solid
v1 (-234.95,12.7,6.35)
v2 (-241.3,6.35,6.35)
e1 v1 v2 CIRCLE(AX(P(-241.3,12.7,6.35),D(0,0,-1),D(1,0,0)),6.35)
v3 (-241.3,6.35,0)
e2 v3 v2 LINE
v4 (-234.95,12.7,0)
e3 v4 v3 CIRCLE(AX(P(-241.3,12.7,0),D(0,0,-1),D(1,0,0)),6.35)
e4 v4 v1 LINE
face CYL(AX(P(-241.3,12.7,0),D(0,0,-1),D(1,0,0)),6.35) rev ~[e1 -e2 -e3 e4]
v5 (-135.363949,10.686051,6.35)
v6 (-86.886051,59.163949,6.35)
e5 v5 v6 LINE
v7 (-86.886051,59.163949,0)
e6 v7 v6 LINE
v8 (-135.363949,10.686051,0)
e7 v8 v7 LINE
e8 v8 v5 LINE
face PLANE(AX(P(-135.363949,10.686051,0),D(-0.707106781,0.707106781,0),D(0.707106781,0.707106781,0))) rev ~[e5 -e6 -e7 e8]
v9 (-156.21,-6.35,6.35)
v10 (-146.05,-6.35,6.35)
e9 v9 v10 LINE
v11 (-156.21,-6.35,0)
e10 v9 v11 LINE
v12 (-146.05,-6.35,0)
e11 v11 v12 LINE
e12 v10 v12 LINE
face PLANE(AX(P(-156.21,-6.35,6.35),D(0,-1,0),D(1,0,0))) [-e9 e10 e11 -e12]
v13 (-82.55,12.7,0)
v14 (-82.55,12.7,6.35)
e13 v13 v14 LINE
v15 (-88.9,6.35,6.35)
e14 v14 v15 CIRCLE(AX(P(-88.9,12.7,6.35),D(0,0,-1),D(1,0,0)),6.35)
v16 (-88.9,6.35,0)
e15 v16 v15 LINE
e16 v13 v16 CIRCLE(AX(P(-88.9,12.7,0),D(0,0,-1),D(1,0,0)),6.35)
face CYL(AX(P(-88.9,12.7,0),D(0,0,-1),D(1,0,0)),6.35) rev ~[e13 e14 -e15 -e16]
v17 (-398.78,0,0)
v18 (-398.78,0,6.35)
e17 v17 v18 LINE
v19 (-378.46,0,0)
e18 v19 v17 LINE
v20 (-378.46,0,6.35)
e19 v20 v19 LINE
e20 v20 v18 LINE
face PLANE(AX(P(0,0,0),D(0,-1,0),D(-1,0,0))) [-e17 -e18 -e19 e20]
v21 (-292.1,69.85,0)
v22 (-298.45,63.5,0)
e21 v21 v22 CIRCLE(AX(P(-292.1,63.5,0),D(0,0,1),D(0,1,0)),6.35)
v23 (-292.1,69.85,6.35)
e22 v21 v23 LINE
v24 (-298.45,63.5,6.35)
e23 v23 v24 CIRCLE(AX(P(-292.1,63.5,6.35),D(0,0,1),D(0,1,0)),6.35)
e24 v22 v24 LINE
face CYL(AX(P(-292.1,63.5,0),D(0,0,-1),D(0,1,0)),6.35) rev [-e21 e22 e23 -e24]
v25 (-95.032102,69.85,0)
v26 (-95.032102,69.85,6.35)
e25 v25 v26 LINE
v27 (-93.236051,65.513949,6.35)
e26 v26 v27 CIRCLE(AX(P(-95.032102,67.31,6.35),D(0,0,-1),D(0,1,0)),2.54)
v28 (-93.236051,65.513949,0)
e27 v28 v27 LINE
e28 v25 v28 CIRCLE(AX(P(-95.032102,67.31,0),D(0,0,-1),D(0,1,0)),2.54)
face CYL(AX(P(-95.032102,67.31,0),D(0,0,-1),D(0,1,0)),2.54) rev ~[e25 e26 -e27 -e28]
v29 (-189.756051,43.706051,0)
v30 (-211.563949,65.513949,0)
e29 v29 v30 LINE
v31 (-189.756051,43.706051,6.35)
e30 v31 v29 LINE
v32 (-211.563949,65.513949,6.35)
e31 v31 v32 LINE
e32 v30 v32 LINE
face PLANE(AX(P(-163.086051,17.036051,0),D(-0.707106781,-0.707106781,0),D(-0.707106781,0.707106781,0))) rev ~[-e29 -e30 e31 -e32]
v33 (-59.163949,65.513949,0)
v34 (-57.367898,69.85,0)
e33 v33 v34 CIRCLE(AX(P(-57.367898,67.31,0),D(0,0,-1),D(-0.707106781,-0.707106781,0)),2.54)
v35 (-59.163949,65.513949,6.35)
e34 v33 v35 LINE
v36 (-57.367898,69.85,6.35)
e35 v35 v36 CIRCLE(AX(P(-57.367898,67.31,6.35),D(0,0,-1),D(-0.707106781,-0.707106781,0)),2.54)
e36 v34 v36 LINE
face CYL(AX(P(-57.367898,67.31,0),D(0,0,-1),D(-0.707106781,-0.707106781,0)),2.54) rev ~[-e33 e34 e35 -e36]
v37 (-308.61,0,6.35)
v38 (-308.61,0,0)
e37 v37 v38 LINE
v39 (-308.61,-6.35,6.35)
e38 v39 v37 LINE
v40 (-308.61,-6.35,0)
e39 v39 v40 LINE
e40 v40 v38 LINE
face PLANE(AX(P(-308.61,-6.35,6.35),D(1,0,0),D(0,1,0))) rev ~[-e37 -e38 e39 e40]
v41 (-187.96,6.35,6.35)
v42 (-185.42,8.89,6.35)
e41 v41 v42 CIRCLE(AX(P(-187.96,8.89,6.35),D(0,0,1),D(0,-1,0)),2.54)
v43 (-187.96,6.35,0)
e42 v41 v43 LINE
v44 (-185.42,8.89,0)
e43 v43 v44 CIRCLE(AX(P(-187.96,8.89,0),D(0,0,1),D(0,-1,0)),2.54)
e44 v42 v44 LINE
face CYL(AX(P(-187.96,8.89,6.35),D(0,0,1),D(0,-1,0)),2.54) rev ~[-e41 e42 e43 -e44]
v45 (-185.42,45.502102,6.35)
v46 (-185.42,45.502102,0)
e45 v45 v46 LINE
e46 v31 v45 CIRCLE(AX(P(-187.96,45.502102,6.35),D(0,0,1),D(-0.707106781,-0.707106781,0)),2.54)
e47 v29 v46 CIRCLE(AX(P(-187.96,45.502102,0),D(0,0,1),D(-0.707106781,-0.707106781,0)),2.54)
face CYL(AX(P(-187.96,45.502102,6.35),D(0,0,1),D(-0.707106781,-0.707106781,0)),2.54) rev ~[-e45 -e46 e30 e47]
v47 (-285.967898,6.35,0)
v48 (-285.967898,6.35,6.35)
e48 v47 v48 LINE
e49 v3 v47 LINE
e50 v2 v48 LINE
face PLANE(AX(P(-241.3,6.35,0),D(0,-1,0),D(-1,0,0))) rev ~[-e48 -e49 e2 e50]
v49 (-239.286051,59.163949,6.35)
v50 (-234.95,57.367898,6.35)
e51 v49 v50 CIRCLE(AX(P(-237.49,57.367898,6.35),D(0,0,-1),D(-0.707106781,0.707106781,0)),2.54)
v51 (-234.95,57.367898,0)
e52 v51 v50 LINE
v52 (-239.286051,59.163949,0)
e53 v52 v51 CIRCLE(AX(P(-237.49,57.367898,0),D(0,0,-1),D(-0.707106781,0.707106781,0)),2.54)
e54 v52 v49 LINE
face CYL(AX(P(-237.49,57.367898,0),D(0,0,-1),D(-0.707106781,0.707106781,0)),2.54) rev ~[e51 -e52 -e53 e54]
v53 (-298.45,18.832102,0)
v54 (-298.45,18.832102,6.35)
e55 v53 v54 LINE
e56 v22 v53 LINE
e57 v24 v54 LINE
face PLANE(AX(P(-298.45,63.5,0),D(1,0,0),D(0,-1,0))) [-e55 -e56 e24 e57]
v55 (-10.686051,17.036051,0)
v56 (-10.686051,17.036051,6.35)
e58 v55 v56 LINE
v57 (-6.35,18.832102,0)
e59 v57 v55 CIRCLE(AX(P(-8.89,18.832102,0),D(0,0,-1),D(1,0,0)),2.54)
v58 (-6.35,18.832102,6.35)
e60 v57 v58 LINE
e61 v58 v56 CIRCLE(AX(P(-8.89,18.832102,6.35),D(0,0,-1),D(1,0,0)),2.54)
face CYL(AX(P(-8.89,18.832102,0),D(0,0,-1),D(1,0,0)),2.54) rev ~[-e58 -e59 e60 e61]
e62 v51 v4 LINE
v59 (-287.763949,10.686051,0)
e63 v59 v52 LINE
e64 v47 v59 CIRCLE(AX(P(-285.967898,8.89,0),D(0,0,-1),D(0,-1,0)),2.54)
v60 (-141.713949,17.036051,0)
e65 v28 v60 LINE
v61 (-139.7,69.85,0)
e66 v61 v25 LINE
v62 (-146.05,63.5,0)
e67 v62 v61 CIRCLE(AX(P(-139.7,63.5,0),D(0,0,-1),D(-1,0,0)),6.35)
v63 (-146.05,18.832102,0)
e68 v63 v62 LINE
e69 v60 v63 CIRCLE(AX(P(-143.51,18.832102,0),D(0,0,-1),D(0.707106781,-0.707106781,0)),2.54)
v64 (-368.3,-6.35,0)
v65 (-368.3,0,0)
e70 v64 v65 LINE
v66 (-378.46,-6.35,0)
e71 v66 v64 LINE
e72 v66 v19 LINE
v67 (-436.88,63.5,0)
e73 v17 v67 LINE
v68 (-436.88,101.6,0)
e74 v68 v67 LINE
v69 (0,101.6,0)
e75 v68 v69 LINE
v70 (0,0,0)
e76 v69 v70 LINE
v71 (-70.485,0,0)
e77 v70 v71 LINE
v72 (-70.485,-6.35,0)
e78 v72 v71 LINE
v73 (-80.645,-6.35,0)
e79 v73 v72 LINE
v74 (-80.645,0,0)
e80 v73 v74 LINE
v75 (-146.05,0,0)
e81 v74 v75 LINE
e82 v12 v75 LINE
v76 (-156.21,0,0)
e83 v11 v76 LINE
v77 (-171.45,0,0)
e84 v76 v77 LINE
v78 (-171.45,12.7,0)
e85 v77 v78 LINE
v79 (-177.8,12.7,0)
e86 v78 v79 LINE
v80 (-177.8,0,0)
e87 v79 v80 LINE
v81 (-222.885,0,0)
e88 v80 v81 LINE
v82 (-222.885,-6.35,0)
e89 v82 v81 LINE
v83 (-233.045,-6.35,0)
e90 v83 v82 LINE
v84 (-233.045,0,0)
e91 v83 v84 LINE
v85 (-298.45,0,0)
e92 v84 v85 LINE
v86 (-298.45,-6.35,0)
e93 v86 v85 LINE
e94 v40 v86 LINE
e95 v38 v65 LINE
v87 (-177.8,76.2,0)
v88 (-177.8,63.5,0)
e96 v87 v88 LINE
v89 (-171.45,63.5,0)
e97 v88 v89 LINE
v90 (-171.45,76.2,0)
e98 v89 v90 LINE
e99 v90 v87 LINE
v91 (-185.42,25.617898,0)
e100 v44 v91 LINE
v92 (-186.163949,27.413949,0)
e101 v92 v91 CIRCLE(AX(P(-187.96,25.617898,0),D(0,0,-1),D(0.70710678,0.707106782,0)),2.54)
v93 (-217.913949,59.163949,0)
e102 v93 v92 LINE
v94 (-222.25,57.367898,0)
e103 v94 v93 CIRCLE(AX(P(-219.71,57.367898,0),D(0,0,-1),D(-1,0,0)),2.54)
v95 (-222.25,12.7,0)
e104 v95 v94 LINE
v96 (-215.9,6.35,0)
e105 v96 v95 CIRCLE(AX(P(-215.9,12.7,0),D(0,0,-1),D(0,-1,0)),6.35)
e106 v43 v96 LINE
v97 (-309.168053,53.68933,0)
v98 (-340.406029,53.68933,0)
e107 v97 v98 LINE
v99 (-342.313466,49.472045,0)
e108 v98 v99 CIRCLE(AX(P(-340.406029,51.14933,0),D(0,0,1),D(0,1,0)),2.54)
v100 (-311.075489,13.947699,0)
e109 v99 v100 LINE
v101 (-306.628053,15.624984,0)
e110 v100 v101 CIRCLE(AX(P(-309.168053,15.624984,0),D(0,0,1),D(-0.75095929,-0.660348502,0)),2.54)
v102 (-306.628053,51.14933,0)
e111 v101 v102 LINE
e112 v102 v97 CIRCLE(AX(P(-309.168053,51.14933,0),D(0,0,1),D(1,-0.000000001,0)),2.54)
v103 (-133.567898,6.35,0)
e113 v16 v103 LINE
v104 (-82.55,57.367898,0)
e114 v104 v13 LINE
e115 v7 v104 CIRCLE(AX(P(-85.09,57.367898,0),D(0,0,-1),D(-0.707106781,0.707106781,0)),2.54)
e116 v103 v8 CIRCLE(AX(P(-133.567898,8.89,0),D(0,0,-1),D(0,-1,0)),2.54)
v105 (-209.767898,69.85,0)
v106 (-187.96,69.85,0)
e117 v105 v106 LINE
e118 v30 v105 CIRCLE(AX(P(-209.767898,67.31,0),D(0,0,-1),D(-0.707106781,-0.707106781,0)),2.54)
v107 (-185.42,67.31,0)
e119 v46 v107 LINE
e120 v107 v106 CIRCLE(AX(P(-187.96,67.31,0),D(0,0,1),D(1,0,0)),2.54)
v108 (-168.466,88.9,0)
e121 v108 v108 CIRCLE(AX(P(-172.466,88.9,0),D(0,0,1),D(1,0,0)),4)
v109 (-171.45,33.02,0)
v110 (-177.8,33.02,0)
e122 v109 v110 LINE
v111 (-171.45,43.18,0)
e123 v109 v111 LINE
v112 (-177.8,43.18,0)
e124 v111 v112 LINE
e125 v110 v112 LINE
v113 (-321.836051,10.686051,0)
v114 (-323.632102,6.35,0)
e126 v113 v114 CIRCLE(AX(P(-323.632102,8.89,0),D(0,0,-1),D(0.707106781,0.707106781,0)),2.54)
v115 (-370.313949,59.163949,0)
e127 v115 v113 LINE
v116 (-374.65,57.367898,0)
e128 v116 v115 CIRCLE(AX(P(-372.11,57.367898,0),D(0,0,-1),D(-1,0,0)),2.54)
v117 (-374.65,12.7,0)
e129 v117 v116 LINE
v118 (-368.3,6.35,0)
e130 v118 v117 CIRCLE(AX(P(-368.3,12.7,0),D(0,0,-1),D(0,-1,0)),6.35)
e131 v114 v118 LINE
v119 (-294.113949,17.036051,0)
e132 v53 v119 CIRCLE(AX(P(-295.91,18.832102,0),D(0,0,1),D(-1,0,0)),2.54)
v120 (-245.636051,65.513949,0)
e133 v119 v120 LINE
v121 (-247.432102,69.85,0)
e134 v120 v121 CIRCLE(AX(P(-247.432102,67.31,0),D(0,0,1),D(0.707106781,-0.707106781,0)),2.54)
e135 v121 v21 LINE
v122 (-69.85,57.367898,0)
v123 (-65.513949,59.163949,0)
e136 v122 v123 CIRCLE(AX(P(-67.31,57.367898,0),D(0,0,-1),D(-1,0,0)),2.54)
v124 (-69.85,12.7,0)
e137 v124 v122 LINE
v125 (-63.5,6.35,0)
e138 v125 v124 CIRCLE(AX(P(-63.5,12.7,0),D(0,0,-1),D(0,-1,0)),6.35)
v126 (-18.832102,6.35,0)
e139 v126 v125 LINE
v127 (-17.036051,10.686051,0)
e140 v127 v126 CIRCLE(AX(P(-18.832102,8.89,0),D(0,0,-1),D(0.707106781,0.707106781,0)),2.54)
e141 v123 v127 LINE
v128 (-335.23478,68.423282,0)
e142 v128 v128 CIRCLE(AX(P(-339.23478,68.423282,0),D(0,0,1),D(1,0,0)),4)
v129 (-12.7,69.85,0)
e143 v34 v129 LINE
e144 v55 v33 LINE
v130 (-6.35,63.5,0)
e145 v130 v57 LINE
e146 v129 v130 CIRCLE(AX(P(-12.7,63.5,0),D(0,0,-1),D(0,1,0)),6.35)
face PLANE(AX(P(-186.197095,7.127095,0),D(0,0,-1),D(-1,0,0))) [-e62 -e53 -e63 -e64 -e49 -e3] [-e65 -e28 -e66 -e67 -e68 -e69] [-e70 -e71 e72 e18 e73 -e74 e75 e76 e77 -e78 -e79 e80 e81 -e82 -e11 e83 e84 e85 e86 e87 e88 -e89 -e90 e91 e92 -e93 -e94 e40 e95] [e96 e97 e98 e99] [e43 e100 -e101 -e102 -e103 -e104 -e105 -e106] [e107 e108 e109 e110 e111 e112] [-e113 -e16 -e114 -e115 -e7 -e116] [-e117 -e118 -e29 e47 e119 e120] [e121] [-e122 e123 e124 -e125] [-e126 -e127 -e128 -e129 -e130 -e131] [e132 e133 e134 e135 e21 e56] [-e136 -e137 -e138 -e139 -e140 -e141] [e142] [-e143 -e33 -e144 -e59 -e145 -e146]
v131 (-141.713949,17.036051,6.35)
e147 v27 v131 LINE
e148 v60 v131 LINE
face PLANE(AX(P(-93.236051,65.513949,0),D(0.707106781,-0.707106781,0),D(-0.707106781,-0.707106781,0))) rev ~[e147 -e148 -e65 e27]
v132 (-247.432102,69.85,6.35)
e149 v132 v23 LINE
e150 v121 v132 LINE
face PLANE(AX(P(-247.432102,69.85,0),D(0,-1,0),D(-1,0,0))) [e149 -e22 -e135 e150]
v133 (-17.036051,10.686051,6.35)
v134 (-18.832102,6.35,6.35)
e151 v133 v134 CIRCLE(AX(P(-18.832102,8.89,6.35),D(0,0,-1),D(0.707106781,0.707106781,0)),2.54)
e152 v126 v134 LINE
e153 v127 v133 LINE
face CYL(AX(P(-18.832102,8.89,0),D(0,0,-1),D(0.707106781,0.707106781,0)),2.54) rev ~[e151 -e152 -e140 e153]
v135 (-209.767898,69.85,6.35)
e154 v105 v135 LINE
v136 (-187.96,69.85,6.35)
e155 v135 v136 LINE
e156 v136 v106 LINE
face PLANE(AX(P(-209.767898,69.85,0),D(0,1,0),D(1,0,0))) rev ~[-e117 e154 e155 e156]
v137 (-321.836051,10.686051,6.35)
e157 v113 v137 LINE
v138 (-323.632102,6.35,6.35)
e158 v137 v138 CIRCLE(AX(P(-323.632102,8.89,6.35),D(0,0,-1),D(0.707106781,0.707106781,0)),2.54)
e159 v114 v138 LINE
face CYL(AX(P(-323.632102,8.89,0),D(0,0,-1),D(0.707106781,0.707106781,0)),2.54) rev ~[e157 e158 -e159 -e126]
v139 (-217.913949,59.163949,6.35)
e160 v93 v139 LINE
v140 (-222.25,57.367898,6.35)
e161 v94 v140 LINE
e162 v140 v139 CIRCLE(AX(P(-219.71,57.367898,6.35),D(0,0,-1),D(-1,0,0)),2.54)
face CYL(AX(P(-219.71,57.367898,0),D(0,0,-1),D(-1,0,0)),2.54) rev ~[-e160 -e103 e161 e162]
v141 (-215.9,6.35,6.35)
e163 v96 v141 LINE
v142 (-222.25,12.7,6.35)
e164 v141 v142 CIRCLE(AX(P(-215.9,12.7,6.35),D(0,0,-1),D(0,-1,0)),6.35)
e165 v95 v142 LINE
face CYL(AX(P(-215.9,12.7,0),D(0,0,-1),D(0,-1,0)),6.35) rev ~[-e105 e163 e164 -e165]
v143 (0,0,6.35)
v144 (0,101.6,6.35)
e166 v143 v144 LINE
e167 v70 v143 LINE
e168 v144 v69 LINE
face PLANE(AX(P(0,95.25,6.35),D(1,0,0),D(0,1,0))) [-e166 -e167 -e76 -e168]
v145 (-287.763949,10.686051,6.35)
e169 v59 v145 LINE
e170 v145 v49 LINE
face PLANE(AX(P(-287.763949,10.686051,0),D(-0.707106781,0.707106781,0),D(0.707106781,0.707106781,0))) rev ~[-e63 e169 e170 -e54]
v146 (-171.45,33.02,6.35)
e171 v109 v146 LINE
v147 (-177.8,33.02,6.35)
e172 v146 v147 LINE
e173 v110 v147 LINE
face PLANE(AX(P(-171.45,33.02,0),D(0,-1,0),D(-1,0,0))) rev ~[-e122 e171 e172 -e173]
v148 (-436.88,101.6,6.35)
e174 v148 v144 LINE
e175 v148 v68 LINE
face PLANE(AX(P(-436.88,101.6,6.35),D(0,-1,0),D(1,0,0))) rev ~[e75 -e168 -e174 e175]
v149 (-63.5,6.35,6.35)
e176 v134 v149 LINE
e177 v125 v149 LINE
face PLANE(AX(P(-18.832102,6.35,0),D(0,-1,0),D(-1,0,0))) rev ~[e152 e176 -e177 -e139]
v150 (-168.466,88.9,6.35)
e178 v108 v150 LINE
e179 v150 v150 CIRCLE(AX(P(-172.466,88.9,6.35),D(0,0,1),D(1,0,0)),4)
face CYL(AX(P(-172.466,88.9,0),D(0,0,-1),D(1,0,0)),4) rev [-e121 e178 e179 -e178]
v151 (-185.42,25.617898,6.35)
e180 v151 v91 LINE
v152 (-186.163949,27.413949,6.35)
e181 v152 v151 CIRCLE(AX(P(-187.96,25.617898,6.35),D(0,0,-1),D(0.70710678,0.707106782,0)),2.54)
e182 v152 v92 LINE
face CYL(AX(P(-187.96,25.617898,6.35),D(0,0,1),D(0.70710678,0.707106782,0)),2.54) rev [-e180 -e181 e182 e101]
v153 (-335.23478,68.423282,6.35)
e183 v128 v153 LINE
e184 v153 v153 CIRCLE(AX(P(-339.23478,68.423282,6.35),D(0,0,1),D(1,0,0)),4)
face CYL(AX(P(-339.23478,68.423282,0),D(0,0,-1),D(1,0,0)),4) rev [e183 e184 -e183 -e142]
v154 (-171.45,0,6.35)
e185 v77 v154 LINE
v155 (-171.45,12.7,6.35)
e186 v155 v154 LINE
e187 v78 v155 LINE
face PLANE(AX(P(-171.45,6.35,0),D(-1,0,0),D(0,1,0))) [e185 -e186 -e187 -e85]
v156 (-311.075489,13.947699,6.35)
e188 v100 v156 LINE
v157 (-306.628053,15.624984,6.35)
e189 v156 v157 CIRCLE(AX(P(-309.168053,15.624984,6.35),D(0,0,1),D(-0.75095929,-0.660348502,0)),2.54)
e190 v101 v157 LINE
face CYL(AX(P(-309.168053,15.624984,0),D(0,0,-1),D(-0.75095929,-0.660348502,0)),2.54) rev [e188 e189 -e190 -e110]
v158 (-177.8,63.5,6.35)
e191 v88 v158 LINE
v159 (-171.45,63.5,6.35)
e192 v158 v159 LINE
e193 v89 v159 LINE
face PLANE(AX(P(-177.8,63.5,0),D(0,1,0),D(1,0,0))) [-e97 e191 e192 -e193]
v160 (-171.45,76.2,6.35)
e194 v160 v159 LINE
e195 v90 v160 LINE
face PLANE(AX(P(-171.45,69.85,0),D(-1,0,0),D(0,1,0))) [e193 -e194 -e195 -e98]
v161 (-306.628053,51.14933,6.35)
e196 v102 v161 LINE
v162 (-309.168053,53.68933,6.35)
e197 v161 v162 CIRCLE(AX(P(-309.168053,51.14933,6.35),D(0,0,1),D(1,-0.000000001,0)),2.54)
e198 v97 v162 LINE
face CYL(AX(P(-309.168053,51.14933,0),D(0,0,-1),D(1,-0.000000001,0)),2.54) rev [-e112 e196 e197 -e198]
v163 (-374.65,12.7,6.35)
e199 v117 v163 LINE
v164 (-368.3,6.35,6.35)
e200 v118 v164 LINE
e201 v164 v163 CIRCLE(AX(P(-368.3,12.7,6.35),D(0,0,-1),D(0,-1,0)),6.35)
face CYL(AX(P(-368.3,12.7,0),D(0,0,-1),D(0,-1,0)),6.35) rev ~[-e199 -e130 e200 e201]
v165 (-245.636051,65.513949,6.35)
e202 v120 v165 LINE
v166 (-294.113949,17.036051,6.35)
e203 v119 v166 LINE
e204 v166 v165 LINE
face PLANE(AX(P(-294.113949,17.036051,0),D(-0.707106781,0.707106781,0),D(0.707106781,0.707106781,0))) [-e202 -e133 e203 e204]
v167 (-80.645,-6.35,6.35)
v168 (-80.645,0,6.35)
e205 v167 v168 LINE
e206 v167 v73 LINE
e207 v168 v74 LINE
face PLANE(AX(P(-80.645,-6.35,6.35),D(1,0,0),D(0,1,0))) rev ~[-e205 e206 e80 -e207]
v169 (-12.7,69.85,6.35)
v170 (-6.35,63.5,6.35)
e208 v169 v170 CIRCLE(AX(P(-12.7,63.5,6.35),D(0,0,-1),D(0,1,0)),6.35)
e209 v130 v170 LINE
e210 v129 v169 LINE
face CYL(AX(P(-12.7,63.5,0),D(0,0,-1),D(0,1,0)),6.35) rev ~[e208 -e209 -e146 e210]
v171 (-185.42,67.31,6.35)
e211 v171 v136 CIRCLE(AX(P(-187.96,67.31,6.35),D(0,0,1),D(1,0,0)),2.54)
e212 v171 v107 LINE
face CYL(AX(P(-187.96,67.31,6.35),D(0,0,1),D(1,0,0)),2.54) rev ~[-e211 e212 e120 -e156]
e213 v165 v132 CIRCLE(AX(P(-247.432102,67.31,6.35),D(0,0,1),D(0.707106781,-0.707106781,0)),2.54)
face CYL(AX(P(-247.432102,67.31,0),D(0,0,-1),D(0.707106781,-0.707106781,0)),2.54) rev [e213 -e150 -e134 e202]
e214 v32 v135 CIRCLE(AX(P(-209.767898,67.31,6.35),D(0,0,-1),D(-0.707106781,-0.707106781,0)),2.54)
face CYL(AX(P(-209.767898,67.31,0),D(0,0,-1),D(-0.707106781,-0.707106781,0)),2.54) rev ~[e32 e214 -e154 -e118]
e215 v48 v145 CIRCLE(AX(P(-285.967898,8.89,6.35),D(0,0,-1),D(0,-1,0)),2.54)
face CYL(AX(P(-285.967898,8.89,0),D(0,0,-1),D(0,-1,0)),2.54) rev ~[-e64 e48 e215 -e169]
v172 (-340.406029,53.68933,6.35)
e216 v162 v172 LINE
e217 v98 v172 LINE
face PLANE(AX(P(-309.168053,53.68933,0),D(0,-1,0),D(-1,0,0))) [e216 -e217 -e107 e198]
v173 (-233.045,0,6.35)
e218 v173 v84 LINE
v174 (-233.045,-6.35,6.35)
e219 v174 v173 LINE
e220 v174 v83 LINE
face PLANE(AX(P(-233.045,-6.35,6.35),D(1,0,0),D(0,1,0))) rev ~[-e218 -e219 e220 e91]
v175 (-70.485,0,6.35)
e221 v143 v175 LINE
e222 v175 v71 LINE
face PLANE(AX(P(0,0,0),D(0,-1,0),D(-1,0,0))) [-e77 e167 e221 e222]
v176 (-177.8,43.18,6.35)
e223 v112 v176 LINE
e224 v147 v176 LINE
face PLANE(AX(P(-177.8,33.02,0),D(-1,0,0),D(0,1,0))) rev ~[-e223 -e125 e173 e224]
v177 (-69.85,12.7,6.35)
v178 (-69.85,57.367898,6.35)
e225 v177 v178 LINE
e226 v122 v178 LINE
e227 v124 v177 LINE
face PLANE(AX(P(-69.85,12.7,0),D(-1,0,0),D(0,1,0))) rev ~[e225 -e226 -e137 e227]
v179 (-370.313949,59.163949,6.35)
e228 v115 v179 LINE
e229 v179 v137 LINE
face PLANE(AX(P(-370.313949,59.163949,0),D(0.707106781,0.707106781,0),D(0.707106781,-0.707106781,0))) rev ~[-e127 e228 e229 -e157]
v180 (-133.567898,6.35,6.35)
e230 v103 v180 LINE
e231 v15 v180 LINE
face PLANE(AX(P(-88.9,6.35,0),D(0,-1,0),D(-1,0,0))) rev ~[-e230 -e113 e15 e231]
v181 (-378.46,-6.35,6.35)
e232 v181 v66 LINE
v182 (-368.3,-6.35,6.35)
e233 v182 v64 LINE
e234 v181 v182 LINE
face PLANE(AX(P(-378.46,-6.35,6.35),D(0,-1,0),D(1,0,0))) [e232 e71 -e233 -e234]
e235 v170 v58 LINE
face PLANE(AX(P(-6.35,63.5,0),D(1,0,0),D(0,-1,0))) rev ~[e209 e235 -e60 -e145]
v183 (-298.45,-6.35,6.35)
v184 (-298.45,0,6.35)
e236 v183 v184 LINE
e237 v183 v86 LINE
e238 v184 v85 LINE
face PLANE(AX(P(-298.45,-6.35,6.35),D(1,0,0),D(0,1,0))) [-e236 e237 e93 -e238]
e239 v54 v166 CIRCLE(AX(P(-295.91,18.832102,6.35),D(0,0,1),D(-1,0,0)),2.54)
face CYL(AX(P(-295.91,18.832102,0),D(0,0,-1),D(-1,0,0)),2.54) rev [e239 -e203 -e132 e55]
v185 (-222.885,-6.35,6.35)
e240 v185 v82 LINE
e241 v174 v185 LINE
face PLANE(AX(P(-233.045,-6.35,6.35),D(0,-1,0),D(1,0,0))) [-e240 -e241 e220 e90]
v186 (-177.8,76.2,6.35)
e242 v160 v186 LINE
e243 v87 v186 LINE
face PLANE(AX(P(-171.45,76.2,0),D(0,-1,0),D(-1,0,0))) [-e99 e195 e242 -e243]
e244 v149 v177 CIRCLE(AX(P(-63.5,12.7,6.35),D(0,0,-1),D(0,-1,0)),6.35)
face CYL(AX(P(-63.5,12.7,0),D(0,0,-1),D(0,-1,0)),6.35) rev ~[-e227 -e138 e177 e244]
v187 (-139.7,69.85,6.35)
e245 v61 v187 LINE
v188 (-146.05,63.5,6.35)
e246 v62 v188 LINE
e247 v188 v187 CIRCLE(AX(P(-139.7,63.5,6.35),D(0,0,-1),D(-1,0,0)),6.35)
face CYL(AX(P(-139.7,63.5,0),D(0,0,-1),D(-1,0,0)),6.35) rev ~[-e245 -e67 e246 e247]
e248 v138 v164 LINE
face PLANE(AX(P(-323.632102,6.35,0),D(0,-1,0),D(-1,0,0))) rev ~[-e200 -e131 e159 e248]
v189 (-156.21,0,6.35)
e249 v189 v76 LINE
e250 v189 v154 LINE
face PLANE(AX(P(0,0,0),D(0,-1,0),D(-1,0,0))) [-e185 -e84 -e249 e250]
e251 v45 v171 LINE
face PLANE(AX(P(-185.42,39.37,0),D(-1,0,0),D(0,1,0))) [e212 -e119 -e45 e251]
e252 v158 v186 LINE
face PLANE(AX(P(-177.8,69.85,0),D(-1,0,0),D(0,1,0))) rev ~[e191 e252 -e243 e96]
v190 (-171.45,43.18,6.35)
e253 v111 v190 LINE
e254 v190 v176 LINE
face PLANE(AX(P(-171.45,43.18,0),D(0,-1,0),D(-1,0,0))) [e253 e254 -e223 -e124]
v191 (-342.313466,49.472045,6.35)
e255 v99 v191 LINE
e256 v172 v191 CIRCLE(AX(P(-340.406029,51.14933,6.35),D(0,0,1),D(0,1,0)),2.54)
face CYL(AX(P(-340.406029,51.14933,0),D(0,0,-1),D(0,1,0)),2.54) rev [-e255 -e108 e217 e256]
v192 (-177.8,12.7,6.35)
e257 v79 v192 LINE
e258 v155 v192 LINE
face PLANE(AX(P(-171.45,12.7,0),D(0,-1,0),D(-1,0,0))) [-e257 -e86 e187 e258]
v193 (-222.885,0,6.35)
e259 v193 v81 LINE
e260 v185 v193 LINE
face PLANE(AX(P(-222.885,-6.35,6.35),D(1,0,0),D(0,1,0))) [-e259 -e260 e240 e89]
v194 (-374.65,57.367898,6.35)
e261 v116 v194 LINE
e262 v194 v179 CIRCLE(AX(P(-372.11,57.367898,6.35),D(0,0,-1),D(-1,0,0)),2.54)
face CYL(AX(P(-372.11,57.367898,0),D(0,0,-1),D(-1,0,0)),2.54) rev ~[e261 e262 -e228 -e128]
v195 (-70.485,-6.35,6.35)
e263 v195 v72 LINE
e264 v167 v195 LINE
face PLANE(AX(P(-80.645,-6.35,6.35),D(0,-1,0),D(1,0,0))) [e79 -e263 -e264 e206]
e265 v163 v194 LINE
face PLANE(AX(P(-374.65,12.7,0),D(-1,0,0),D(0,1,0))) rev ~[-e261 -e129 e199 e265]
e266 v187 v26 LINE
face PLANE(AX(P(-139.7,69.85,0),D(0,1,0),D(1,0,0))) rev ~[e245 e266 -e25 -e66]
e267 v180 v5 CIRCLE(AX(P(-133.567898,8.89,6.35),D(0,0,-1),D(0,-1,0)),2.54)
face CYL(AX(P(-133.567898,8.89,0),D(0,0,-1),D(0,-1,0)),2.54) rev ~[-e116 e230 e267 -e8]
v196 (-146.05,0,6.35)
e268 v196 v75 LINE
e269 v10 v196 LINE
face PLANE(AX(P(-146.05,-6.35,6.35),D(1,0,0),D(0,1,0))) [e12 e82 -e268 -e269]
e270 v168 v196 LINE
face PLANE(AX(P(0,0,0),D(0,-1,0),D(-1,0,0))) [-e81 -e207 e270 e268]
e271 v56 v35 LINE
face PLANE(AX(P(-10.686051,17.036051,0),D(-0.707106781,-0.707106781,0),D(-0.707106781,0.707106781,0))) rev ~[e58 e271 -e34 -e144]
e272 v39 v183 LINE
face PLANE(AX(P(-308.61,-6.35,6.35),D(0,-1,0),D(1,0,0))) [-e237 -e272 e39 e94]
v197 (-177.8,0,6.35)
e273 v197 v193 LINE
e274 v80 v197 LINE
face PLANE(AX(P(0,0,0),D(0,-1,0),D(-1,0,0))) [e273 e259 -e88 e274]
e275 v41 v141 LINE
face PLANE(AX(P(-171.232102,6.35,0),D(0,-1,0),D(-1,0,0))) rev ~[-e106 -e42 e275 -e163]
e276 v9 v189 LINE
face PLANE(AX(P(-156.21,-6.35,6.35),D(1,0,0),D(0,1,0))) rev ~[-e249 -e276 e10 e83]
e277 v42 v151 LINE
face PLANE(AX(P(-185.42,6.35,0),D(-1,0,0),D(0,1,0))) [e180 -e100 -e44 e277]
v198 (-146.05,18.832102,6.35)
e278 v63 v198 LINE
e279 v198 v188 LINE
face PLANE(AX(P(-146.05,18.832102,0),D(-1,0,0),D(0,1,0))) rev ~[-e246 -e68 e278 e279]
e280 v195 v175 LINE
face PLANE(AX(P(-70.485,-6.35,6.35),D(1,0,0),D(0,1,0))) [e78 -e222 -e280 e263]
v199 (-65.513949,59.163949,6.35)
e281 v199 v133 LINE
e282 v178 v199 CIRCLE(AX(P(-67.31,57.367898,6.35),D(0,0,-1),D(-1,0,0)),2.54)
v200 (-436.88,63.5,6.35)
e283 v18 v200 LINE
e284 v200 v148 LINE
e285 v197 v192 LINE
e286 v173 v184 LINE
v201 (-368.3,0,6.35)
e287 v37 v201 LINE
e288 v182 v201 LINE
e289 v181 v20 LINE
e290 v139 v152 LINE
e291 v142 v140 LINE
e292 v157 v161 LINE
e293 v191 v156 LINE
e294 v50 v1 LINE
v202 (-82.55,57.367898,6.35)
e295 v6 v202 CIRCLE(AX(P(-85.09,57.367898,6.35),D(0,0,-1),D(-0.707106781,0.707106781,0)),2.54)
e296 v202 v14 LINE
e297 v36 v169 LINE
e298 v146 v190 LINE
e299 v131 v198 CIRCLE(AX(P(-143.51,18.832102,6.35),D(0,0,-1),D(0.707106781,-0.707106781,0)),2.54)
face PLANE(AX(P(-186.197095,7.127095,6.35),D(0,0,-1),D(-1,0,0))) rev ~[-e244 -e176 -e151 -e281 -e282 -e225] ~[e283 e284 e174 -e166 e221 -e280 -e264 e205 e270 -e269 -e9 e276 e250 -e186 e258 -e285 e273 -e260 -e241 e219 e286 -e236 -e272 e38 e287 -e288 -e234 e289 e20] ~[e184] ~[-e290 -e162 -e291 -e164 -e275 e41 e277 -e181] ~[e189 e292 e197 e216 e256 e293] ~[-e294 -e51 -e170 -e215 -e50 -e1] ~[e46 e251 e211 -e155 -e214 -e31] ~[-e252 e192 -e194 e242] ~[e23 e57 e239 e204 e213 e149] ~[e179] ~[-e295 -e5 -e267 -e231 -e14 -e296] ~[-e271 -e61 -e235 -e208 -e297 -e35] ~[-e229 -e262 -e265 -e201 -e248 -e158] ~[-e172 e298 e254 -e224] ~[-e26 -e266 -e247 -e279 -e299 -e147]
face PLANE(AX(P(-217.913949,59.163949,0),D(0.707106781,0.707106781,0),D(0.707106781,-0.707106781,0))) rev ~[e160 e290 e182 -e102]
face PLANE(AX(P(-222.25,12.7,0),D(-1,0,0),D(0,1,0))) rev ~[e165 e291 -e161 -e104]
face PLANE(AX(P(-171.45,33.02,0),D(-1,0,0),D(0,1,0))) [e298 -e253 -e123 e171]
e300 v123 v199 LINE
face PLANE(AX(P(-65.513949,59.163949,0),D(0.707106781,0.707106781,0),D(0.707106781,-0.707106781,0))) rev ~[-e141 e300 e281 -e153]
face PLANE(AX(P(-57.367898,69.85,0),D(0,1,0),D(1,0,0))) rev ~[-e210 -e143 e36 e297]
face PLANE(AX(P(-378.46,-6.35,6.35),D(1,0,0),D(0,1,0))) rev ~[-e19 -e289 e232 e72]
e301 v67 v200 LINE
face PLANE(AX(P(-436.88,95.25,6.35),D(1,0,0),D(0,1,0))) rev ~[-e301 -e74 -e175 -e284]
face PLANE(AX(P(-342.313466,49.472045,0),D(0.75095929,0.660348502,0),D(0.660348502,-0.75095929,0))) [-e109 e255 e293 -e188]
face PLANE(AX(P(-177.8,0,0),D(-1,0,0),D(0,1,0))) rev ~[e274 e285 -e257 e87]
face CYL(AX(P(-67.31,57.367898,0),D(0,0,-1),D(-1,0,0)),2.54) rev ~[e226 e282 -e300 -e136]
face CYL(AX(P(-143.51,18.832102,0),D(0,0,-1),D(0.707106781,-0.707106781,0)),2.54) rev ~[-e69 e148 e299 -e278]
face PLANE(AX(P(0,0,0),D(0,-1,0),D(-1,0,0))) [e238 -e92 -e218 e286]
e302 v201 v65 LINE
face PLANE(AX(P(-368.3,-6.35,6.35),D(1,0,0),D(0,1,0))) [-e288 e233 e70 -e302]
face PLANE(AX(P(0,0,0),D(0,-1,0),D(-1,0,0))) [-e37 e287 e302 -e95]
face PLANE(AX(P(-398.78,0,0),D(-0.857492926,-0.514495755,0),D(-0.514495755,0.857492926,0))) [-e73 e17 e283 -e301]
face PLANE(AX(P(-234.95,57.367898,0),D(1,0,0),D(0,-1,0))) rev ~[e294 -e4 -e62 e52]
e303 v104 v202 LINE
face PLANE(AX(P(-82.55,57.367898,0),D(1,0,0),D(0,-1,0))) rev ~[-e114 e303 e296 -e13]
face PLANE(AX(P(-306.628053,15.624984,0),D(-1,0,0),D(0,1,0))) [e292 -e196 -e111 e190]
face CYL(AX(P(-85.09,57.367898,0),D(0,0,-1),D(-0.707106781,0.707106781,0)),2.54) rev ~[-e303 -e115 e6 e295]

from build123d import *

# Parameters (mm, degrees)
MODEL_R             = 4
BOSS_EXTRUDE1_DEPTH = 6.35
SKETCH1_W           = 10.16
SKETCH1_H           = 6.35
SKETCH1_W_2         = 436.88
BOSS_EXTRUDE2_DEPTH = 6.35
SKETCH2_W           = 6.35
SKETCH2_H           = 10.16
BOSS_EXTRUDE3_DEPTH = 6.35
SKETCH2_3_W         = 6.35
SKETCH2_3_H         = 6.35
SKETCH2_3_H_2       = 12.7
CUT_EXTRUDE1_DEPTH  = 6.35
SKETCH3_W           = 12.986644794
SKETCH3_H           = 59.111624581
BOSS_EXTRUDE4_DEPTH = 6.35
BOSS_EXTRUDE6_DEPTH = 6.35


with BuildPart() as part:
    # Model → Boss-Extrude1 (new body)
    with BuildSketch(Plane.XY):
        Polygon((-398.78, 0), (-436.88, 63.5), (-436.88, 95.25), (0, 95.25), (0, 0), align=None)
        with Locations((-172.466, 88.9)):
            Circle(MODEL_R, mode=Mode.SUBTRACT)
        with Locations((-339.23478, 68.423282)):
            Circle(MODEL_R, mode=Mode.SUBTRACT)
        with BuildLine():
            Line((-306.628052638, 15.624984002), (-306.628052638, 51.149330332))
            ThreePointArc((-306.628052638, 51.149330332), (-307.372001413, 52.945381557), (-309.168052638, 53.689330332))
            Line((-309.168052638, 53.689330332), (-340.406029433, 53.689330332))
            ThreePointArc((-340.406029433, 53.689330332), (-342.720322456, 52.196062295), (-342.31346603, 49.472045137))
            Line((-342.31346603, 49.472045137), (-311.075489235, 13.947698807))
            ThreePointArc((-311.075489235, 13.947698807), (-308.271751616, 13.248380443), (-306.628052638, 15.624984002))
        make_face(mode=Mode.SUBTRACT)
        with BuildLine():
            Line((-171.232102448, 6.35), (-215.9, 6.35))
            ThreePointArc((-215.9, 6.35), (-220.390128061, 8.209871939), (-222.25, 12.7))
            Line((-222.25, 12.7), (-222.25, 57.367897552))
            ThreePointArc((-222.25, 57.367897552), (-220.682015918, 59.714551564), (-217.913948776, 59.163948776))
            Line((-217.913948776, 59.163948776), (-169.436051224, 10.686051224))
            ThreePointArc((-169.436051224, 10.686051224), (-168.885448436, 7.917984082), (-171.232102448, 6.35))
        make_face(mode=Mode.SUBTRACT)
        with BuildLine():
            Line((-234.95, 57.367897552), (-234.95, 12.7))
            ThreePointArc((-234.95, 12.7), (-236.809871939, 8.209871939), (-241.3, 6.35))
            Line((-241.3, 6.35), (-285.967897552, 6.35))
            ThreePointArc((-285.967897552, 6.35), (-288.314551564, 7.917984082), (-287.763948776, 10.686051224))
            Line((-287.763948776, 10.686051224), (-239.286051224, 59.163948776))
            ThreePointArc((-239.286051224, 59.163948776), (-236.517984082, 59.714551564), (-234.95, 57.367897552))
        make_face(mode=Mode.SUBTRACT)
        with BuildLine():
            Line((-294.113948776, 17.036051224), (-245.636051224, 65.513948776))
            ThreePointArc((-245.636051224, 65.513948776), (-245.085448436, 68.282015918), (-247.432102448, 69.85))
            Line((-247.432102448, 69.85), (-292.1, 69.85))
            ThreePointArc((-292.1, 69.85), (-296.590128061, 67.990128061), (-298.45, 63.5))
            Line((-298.45, 63.5), (-298.45, 18.832102448))
            ThreePointArc((-298.45, 18.832102448), (-296.882015918, 16.485448436), (-294.113948776, 17.036051224))
        make_face(mode=Mode.SUBTRACT)
        with BuildLine():
            Line((-323.632102448, 6.35), (-368.3, 6.35))
            ThreePointArc((-368.3, 6.35), (-372.790128061, 8.209871939), (-374.65, 12.7))
            Line((-374.65, 12.7), (-374.65, 57.367897552))
            ThreePointArc((-374.65, 57.367897552), (-373.082015918, 59.714551564), (-370.313948776, 59.163948776))
            Line((-370.313948776, 59.163948776), (-321.836051224, 10.686051224))
            ThreePointArc((-321.836051224, 10.686051224), (-321.285448436, 7.917984082), (-323.632102448, 6.35))
        make_face(mode=Mode.SUBTRACT)
        with BuildLine():
            Line((-18.832102448, 6.35), (-63.5, 6.35))
            ThreePointArc((-63.5, 6.35), (-67.990128061, 8.209871939), (-69.85, 12.7))
            Line((-69.85, 12.7), (-69.85, 57.367897552))
            ThreePointArc((-69.85, 57.367897552), (-68.282015918, 59.714551564), (-65.513948776, 59.163948776))
            Line((-65.513948776, 59.163948776), (-17.036051224, 10.686051224))
            ThreePointArc((-17.036051224, 10.686051224), (-16.485448436, 7.917984082), (-18.832102448, 6.35))
        make_face(mode=Mode.SUBTRACT)
        with BuildLine():
            Line((-82.55, 57.367897552), (-82.55, 12.7))
            ThreePointArc((-82.55, 12.7), (-84.409871939, 8.209871939), (-88.9, 6.35))
            Line((-88.9, 6.35), (-133.567897552, 6.35))
            ThreePointArc((-133.567897552, 6.35), (-135.914551564, 7.917984082), (-135.363948776, 10.686051224))
            Line((-135.363948776, 10.686051224), (-86.886051224, 59.163948776))
            ThreePointArc((-86.886051224, 59.163948776), (-84.117984082, 59.714551564), (-82.55, 57.367897552))
        make_face(mode=Mode.SUBTRACT)
        with BuildLine():
            Line((-93.236051224, 65.513948776), (-141.713948776, 17.036051224))
            ThreePointArc((-141.713948776, 17.036051224), (-144.482015918, 16.485448436), (-146.05, 18.832102448))
            Line((-146.05, 18.832102448), (-146.05, 63.5))
            ThreePointArc((-146.05, 63.5), (-144.190128061, 67.990128061), (-139.7, 69.85))
            Line((-139.7, 69.85), (-95.032102448, 69.85))
            ThreePointArc((-95.032102448, 69.85), (-92.685448436, 68.282015918), (-93.236051224, 65.513948776))
        make_face(mode=Mode.SUBTRACT)
        with BuildLine():
            Line((-163.086051224, 17.036051224), (-211.563948776, 65.513948776))
            ThreePointArc((-211.563948776, 65.513948776), (-212.114551564, 68.282015918), (-209.767897552, 69.85))
            Line((-209.767897552, 69.85), (-165.1, 69.85))
            ThreePointArc((-165.1, 69.85), (-160.609871939, 67.990128061), (-158.75, 63.5))
            Line((-158.75, 63.5), (-158.75, 18.832102448))
            ThreePointArc((-158.75, 18.832102448), (-160.317984082, 16.485448436), (-163.086051224, 17.036051224))
        make_face(mode=Mode.SUBTRACT)
        with BuildLine():
            Line((-6.35, 63.5), (-6.35, 18.832102448))
            ThreePointArc((-6.35, 18.832102448), (-7.917984082, 16.485448436), (-10.686051224, 17.036051224))
            Line((-10.686051224, 17.036051224), (-59.163948776, 65.513948776))
            ThreePointArc((-59.163948776, 65.513948776), (-59.714551564, 68.282015918), (-57.367897552, 69.85))
            Line((-57.367897552, 69.85), (-12.7, 69.85))
            ThreePointArc((-12.7, 69.85), (-8.209871939, 67.990128061), (-6.35, 63.5))
        make_face(mode=Mode.SUBTRACT)
    extrude(amount=BOSS_EXTRUDE1_DEPTH)

    # Sketch1 → Boss-Extrude2 (add)
    with BuildSketch(Plane.XY.offset(6.35)):
        with Locations((-75.565, -3.175)):
            Rectangle(SKETCH1_W, SKETCH1_H)
        with Locations((-151.13, -3.175)):
            Rectangle(SKETCH1_W, SKETCH1_H)
        with Locations((-227.965, -3.175)):
            Rectangle(SKETCH1_W, SKETCH1_H)
        with Locations((-303.53, -3.175)):
            Rectangle(SKETCH1_W, SKETCH1_H)
        with Locations((-373.38, -3.175)):
            Rectangle(SKETCH1_W, SKETCH1_H)
        with Locations((-218.44, 98.425)):
            Rectangle(SKETCH1_W_2, SKETCH1_H)
    extrude(amount=-BOSS_EXTRUDE2_DEPTH)

    # Sketch2 → Boss-Extrude3 (add)
    # profile 1 of 3: a face of its own
    with BuildSketch(Plane(origin=(0, 0, 0), x_dir=(-1, 0, 0), z_dir=(0, 0, -1))):
        Polygon((185.42, 39.37), (185.42, 69.85), (177.8, 69.85), (177.8, 63.5), (171.45, 63.5), (171.45, 69.85), (165.1, 69.85), (165.1, 19.05), align=None)
        with Locations((174.625, 38.1)):
            Rectangle(SKETCH2_W, SKETCH2_H, mode=Mode.SUBTRACT)
    # profile 2 of 3: a face of its own
    with BuildSketch(Plane(origin=(0, 0, 0), x_dir=(-1, 0, 0), z_dir=(0, 0, -1))):
        Polygon((185.42, 6.35), (185.42, 26.67), (171.45, 12.7), (177.8, 12.7), (177.8, 6.35), align=None)
    # profile 3 of 3: a face of its own
    with BuildSketch(Plane(origin=(0, 0, 0), x_dir=(-1, 0, 0), z_dir=(0, 0, -1))):
        with BuildLine():
            Line((171.45, 6.35), (171.45, 12.7))
            Line((171.45, 12.7), (169.436051224, 10.686051224))
            ThreePointArc((169.436051224, 10.686051224), (168.885448436, 7.917984082), (171.232102448, 6.35))
            Line((171.232102448, 6.35), (171.45, 6.35))
        make_face()
    extrude(amount=-BOSS_EXTRUDE3_DEPTH)

    # Sketch2<3> → Cut-Extrude1 (cut)
    with BuildSketch(Plane(origin=(0, 0, 0), x_dir=(-1, 0, 0), z_dir=(0, 0, -1))):
        with Locations((174.625, 73.025)):
            Rectangle(SKETCH2_3_W, SKETCH2_3_H)
        with Locations((174.625, 6.35)):
            Rectangle(SKETCH2_3_W, SKETCH2_3_H_2)
    extrude(amount=-CUT_EXTRUDE1_DEPTH, mode=Mode.SUBTRACT)

    # Sketch3 → Boss-Extrude4 (add)
    with BuildSketch(Plane(origin=(0, 0, 0), x_dir=(-1, 0, 0), z_dir=(0, 0, -1))):
        with Locations((160.895729101, 43.146846623)):
            Rectangle(SKETCH3_W, SKETCH3_H)
    extrude(amount=-BOSS_EXTRUDE4_DEPTH)

    # Sketch4 → Boss-Extrude6 (add)
    with BuildSketch(Plane.XY.offset(6.35)):
        with BuildLine():
            ThreePointArc((-187.96, 6.35), (-186.163948776, 7.093948776), (-185.42, 8.89))
            Line((-185.42, 8.89), (-185.42, 6.35))
            Line((-185.42, 6.35), (-187.96, 6.35))
        make_face()
        with BuildLine():
            Line((-185.42, 26.67), (-186.163948776, 27.413948776))
            ThreePointArc((-186.163948776, 27.413948776), (-185.613345987, 26.58991347), (-185.42, 25.617897552))
            Line((-185.42, 25.617897552), (-185.42, 26.67))
        make_face()
        with BuildLine():
            Line((-185.42, 45.502102448), (-185.42, 39.37))
            Line((-185.42, 39.37), (-189.756051224, 43.706051224))
            ThreePointArc((-189.756051224, 43.706051224), (-186.987984082, 43.155448436), (-185.42, 45.502102448))
        make_face()
        with BuildLine():
            Line((-187.96, 69.85), (-185.42, 69.85))
            Line((-185.42, 69.85), (-185.42, 67.31))
            ThreePointArc((-185.42, 67.31), (-186.163948776, 69.106051224), (-187.96, 69.85))
        make_face()
    extrude(amount=-BOSS_EXTRUDE6_DEPTH)


solid = part.part
